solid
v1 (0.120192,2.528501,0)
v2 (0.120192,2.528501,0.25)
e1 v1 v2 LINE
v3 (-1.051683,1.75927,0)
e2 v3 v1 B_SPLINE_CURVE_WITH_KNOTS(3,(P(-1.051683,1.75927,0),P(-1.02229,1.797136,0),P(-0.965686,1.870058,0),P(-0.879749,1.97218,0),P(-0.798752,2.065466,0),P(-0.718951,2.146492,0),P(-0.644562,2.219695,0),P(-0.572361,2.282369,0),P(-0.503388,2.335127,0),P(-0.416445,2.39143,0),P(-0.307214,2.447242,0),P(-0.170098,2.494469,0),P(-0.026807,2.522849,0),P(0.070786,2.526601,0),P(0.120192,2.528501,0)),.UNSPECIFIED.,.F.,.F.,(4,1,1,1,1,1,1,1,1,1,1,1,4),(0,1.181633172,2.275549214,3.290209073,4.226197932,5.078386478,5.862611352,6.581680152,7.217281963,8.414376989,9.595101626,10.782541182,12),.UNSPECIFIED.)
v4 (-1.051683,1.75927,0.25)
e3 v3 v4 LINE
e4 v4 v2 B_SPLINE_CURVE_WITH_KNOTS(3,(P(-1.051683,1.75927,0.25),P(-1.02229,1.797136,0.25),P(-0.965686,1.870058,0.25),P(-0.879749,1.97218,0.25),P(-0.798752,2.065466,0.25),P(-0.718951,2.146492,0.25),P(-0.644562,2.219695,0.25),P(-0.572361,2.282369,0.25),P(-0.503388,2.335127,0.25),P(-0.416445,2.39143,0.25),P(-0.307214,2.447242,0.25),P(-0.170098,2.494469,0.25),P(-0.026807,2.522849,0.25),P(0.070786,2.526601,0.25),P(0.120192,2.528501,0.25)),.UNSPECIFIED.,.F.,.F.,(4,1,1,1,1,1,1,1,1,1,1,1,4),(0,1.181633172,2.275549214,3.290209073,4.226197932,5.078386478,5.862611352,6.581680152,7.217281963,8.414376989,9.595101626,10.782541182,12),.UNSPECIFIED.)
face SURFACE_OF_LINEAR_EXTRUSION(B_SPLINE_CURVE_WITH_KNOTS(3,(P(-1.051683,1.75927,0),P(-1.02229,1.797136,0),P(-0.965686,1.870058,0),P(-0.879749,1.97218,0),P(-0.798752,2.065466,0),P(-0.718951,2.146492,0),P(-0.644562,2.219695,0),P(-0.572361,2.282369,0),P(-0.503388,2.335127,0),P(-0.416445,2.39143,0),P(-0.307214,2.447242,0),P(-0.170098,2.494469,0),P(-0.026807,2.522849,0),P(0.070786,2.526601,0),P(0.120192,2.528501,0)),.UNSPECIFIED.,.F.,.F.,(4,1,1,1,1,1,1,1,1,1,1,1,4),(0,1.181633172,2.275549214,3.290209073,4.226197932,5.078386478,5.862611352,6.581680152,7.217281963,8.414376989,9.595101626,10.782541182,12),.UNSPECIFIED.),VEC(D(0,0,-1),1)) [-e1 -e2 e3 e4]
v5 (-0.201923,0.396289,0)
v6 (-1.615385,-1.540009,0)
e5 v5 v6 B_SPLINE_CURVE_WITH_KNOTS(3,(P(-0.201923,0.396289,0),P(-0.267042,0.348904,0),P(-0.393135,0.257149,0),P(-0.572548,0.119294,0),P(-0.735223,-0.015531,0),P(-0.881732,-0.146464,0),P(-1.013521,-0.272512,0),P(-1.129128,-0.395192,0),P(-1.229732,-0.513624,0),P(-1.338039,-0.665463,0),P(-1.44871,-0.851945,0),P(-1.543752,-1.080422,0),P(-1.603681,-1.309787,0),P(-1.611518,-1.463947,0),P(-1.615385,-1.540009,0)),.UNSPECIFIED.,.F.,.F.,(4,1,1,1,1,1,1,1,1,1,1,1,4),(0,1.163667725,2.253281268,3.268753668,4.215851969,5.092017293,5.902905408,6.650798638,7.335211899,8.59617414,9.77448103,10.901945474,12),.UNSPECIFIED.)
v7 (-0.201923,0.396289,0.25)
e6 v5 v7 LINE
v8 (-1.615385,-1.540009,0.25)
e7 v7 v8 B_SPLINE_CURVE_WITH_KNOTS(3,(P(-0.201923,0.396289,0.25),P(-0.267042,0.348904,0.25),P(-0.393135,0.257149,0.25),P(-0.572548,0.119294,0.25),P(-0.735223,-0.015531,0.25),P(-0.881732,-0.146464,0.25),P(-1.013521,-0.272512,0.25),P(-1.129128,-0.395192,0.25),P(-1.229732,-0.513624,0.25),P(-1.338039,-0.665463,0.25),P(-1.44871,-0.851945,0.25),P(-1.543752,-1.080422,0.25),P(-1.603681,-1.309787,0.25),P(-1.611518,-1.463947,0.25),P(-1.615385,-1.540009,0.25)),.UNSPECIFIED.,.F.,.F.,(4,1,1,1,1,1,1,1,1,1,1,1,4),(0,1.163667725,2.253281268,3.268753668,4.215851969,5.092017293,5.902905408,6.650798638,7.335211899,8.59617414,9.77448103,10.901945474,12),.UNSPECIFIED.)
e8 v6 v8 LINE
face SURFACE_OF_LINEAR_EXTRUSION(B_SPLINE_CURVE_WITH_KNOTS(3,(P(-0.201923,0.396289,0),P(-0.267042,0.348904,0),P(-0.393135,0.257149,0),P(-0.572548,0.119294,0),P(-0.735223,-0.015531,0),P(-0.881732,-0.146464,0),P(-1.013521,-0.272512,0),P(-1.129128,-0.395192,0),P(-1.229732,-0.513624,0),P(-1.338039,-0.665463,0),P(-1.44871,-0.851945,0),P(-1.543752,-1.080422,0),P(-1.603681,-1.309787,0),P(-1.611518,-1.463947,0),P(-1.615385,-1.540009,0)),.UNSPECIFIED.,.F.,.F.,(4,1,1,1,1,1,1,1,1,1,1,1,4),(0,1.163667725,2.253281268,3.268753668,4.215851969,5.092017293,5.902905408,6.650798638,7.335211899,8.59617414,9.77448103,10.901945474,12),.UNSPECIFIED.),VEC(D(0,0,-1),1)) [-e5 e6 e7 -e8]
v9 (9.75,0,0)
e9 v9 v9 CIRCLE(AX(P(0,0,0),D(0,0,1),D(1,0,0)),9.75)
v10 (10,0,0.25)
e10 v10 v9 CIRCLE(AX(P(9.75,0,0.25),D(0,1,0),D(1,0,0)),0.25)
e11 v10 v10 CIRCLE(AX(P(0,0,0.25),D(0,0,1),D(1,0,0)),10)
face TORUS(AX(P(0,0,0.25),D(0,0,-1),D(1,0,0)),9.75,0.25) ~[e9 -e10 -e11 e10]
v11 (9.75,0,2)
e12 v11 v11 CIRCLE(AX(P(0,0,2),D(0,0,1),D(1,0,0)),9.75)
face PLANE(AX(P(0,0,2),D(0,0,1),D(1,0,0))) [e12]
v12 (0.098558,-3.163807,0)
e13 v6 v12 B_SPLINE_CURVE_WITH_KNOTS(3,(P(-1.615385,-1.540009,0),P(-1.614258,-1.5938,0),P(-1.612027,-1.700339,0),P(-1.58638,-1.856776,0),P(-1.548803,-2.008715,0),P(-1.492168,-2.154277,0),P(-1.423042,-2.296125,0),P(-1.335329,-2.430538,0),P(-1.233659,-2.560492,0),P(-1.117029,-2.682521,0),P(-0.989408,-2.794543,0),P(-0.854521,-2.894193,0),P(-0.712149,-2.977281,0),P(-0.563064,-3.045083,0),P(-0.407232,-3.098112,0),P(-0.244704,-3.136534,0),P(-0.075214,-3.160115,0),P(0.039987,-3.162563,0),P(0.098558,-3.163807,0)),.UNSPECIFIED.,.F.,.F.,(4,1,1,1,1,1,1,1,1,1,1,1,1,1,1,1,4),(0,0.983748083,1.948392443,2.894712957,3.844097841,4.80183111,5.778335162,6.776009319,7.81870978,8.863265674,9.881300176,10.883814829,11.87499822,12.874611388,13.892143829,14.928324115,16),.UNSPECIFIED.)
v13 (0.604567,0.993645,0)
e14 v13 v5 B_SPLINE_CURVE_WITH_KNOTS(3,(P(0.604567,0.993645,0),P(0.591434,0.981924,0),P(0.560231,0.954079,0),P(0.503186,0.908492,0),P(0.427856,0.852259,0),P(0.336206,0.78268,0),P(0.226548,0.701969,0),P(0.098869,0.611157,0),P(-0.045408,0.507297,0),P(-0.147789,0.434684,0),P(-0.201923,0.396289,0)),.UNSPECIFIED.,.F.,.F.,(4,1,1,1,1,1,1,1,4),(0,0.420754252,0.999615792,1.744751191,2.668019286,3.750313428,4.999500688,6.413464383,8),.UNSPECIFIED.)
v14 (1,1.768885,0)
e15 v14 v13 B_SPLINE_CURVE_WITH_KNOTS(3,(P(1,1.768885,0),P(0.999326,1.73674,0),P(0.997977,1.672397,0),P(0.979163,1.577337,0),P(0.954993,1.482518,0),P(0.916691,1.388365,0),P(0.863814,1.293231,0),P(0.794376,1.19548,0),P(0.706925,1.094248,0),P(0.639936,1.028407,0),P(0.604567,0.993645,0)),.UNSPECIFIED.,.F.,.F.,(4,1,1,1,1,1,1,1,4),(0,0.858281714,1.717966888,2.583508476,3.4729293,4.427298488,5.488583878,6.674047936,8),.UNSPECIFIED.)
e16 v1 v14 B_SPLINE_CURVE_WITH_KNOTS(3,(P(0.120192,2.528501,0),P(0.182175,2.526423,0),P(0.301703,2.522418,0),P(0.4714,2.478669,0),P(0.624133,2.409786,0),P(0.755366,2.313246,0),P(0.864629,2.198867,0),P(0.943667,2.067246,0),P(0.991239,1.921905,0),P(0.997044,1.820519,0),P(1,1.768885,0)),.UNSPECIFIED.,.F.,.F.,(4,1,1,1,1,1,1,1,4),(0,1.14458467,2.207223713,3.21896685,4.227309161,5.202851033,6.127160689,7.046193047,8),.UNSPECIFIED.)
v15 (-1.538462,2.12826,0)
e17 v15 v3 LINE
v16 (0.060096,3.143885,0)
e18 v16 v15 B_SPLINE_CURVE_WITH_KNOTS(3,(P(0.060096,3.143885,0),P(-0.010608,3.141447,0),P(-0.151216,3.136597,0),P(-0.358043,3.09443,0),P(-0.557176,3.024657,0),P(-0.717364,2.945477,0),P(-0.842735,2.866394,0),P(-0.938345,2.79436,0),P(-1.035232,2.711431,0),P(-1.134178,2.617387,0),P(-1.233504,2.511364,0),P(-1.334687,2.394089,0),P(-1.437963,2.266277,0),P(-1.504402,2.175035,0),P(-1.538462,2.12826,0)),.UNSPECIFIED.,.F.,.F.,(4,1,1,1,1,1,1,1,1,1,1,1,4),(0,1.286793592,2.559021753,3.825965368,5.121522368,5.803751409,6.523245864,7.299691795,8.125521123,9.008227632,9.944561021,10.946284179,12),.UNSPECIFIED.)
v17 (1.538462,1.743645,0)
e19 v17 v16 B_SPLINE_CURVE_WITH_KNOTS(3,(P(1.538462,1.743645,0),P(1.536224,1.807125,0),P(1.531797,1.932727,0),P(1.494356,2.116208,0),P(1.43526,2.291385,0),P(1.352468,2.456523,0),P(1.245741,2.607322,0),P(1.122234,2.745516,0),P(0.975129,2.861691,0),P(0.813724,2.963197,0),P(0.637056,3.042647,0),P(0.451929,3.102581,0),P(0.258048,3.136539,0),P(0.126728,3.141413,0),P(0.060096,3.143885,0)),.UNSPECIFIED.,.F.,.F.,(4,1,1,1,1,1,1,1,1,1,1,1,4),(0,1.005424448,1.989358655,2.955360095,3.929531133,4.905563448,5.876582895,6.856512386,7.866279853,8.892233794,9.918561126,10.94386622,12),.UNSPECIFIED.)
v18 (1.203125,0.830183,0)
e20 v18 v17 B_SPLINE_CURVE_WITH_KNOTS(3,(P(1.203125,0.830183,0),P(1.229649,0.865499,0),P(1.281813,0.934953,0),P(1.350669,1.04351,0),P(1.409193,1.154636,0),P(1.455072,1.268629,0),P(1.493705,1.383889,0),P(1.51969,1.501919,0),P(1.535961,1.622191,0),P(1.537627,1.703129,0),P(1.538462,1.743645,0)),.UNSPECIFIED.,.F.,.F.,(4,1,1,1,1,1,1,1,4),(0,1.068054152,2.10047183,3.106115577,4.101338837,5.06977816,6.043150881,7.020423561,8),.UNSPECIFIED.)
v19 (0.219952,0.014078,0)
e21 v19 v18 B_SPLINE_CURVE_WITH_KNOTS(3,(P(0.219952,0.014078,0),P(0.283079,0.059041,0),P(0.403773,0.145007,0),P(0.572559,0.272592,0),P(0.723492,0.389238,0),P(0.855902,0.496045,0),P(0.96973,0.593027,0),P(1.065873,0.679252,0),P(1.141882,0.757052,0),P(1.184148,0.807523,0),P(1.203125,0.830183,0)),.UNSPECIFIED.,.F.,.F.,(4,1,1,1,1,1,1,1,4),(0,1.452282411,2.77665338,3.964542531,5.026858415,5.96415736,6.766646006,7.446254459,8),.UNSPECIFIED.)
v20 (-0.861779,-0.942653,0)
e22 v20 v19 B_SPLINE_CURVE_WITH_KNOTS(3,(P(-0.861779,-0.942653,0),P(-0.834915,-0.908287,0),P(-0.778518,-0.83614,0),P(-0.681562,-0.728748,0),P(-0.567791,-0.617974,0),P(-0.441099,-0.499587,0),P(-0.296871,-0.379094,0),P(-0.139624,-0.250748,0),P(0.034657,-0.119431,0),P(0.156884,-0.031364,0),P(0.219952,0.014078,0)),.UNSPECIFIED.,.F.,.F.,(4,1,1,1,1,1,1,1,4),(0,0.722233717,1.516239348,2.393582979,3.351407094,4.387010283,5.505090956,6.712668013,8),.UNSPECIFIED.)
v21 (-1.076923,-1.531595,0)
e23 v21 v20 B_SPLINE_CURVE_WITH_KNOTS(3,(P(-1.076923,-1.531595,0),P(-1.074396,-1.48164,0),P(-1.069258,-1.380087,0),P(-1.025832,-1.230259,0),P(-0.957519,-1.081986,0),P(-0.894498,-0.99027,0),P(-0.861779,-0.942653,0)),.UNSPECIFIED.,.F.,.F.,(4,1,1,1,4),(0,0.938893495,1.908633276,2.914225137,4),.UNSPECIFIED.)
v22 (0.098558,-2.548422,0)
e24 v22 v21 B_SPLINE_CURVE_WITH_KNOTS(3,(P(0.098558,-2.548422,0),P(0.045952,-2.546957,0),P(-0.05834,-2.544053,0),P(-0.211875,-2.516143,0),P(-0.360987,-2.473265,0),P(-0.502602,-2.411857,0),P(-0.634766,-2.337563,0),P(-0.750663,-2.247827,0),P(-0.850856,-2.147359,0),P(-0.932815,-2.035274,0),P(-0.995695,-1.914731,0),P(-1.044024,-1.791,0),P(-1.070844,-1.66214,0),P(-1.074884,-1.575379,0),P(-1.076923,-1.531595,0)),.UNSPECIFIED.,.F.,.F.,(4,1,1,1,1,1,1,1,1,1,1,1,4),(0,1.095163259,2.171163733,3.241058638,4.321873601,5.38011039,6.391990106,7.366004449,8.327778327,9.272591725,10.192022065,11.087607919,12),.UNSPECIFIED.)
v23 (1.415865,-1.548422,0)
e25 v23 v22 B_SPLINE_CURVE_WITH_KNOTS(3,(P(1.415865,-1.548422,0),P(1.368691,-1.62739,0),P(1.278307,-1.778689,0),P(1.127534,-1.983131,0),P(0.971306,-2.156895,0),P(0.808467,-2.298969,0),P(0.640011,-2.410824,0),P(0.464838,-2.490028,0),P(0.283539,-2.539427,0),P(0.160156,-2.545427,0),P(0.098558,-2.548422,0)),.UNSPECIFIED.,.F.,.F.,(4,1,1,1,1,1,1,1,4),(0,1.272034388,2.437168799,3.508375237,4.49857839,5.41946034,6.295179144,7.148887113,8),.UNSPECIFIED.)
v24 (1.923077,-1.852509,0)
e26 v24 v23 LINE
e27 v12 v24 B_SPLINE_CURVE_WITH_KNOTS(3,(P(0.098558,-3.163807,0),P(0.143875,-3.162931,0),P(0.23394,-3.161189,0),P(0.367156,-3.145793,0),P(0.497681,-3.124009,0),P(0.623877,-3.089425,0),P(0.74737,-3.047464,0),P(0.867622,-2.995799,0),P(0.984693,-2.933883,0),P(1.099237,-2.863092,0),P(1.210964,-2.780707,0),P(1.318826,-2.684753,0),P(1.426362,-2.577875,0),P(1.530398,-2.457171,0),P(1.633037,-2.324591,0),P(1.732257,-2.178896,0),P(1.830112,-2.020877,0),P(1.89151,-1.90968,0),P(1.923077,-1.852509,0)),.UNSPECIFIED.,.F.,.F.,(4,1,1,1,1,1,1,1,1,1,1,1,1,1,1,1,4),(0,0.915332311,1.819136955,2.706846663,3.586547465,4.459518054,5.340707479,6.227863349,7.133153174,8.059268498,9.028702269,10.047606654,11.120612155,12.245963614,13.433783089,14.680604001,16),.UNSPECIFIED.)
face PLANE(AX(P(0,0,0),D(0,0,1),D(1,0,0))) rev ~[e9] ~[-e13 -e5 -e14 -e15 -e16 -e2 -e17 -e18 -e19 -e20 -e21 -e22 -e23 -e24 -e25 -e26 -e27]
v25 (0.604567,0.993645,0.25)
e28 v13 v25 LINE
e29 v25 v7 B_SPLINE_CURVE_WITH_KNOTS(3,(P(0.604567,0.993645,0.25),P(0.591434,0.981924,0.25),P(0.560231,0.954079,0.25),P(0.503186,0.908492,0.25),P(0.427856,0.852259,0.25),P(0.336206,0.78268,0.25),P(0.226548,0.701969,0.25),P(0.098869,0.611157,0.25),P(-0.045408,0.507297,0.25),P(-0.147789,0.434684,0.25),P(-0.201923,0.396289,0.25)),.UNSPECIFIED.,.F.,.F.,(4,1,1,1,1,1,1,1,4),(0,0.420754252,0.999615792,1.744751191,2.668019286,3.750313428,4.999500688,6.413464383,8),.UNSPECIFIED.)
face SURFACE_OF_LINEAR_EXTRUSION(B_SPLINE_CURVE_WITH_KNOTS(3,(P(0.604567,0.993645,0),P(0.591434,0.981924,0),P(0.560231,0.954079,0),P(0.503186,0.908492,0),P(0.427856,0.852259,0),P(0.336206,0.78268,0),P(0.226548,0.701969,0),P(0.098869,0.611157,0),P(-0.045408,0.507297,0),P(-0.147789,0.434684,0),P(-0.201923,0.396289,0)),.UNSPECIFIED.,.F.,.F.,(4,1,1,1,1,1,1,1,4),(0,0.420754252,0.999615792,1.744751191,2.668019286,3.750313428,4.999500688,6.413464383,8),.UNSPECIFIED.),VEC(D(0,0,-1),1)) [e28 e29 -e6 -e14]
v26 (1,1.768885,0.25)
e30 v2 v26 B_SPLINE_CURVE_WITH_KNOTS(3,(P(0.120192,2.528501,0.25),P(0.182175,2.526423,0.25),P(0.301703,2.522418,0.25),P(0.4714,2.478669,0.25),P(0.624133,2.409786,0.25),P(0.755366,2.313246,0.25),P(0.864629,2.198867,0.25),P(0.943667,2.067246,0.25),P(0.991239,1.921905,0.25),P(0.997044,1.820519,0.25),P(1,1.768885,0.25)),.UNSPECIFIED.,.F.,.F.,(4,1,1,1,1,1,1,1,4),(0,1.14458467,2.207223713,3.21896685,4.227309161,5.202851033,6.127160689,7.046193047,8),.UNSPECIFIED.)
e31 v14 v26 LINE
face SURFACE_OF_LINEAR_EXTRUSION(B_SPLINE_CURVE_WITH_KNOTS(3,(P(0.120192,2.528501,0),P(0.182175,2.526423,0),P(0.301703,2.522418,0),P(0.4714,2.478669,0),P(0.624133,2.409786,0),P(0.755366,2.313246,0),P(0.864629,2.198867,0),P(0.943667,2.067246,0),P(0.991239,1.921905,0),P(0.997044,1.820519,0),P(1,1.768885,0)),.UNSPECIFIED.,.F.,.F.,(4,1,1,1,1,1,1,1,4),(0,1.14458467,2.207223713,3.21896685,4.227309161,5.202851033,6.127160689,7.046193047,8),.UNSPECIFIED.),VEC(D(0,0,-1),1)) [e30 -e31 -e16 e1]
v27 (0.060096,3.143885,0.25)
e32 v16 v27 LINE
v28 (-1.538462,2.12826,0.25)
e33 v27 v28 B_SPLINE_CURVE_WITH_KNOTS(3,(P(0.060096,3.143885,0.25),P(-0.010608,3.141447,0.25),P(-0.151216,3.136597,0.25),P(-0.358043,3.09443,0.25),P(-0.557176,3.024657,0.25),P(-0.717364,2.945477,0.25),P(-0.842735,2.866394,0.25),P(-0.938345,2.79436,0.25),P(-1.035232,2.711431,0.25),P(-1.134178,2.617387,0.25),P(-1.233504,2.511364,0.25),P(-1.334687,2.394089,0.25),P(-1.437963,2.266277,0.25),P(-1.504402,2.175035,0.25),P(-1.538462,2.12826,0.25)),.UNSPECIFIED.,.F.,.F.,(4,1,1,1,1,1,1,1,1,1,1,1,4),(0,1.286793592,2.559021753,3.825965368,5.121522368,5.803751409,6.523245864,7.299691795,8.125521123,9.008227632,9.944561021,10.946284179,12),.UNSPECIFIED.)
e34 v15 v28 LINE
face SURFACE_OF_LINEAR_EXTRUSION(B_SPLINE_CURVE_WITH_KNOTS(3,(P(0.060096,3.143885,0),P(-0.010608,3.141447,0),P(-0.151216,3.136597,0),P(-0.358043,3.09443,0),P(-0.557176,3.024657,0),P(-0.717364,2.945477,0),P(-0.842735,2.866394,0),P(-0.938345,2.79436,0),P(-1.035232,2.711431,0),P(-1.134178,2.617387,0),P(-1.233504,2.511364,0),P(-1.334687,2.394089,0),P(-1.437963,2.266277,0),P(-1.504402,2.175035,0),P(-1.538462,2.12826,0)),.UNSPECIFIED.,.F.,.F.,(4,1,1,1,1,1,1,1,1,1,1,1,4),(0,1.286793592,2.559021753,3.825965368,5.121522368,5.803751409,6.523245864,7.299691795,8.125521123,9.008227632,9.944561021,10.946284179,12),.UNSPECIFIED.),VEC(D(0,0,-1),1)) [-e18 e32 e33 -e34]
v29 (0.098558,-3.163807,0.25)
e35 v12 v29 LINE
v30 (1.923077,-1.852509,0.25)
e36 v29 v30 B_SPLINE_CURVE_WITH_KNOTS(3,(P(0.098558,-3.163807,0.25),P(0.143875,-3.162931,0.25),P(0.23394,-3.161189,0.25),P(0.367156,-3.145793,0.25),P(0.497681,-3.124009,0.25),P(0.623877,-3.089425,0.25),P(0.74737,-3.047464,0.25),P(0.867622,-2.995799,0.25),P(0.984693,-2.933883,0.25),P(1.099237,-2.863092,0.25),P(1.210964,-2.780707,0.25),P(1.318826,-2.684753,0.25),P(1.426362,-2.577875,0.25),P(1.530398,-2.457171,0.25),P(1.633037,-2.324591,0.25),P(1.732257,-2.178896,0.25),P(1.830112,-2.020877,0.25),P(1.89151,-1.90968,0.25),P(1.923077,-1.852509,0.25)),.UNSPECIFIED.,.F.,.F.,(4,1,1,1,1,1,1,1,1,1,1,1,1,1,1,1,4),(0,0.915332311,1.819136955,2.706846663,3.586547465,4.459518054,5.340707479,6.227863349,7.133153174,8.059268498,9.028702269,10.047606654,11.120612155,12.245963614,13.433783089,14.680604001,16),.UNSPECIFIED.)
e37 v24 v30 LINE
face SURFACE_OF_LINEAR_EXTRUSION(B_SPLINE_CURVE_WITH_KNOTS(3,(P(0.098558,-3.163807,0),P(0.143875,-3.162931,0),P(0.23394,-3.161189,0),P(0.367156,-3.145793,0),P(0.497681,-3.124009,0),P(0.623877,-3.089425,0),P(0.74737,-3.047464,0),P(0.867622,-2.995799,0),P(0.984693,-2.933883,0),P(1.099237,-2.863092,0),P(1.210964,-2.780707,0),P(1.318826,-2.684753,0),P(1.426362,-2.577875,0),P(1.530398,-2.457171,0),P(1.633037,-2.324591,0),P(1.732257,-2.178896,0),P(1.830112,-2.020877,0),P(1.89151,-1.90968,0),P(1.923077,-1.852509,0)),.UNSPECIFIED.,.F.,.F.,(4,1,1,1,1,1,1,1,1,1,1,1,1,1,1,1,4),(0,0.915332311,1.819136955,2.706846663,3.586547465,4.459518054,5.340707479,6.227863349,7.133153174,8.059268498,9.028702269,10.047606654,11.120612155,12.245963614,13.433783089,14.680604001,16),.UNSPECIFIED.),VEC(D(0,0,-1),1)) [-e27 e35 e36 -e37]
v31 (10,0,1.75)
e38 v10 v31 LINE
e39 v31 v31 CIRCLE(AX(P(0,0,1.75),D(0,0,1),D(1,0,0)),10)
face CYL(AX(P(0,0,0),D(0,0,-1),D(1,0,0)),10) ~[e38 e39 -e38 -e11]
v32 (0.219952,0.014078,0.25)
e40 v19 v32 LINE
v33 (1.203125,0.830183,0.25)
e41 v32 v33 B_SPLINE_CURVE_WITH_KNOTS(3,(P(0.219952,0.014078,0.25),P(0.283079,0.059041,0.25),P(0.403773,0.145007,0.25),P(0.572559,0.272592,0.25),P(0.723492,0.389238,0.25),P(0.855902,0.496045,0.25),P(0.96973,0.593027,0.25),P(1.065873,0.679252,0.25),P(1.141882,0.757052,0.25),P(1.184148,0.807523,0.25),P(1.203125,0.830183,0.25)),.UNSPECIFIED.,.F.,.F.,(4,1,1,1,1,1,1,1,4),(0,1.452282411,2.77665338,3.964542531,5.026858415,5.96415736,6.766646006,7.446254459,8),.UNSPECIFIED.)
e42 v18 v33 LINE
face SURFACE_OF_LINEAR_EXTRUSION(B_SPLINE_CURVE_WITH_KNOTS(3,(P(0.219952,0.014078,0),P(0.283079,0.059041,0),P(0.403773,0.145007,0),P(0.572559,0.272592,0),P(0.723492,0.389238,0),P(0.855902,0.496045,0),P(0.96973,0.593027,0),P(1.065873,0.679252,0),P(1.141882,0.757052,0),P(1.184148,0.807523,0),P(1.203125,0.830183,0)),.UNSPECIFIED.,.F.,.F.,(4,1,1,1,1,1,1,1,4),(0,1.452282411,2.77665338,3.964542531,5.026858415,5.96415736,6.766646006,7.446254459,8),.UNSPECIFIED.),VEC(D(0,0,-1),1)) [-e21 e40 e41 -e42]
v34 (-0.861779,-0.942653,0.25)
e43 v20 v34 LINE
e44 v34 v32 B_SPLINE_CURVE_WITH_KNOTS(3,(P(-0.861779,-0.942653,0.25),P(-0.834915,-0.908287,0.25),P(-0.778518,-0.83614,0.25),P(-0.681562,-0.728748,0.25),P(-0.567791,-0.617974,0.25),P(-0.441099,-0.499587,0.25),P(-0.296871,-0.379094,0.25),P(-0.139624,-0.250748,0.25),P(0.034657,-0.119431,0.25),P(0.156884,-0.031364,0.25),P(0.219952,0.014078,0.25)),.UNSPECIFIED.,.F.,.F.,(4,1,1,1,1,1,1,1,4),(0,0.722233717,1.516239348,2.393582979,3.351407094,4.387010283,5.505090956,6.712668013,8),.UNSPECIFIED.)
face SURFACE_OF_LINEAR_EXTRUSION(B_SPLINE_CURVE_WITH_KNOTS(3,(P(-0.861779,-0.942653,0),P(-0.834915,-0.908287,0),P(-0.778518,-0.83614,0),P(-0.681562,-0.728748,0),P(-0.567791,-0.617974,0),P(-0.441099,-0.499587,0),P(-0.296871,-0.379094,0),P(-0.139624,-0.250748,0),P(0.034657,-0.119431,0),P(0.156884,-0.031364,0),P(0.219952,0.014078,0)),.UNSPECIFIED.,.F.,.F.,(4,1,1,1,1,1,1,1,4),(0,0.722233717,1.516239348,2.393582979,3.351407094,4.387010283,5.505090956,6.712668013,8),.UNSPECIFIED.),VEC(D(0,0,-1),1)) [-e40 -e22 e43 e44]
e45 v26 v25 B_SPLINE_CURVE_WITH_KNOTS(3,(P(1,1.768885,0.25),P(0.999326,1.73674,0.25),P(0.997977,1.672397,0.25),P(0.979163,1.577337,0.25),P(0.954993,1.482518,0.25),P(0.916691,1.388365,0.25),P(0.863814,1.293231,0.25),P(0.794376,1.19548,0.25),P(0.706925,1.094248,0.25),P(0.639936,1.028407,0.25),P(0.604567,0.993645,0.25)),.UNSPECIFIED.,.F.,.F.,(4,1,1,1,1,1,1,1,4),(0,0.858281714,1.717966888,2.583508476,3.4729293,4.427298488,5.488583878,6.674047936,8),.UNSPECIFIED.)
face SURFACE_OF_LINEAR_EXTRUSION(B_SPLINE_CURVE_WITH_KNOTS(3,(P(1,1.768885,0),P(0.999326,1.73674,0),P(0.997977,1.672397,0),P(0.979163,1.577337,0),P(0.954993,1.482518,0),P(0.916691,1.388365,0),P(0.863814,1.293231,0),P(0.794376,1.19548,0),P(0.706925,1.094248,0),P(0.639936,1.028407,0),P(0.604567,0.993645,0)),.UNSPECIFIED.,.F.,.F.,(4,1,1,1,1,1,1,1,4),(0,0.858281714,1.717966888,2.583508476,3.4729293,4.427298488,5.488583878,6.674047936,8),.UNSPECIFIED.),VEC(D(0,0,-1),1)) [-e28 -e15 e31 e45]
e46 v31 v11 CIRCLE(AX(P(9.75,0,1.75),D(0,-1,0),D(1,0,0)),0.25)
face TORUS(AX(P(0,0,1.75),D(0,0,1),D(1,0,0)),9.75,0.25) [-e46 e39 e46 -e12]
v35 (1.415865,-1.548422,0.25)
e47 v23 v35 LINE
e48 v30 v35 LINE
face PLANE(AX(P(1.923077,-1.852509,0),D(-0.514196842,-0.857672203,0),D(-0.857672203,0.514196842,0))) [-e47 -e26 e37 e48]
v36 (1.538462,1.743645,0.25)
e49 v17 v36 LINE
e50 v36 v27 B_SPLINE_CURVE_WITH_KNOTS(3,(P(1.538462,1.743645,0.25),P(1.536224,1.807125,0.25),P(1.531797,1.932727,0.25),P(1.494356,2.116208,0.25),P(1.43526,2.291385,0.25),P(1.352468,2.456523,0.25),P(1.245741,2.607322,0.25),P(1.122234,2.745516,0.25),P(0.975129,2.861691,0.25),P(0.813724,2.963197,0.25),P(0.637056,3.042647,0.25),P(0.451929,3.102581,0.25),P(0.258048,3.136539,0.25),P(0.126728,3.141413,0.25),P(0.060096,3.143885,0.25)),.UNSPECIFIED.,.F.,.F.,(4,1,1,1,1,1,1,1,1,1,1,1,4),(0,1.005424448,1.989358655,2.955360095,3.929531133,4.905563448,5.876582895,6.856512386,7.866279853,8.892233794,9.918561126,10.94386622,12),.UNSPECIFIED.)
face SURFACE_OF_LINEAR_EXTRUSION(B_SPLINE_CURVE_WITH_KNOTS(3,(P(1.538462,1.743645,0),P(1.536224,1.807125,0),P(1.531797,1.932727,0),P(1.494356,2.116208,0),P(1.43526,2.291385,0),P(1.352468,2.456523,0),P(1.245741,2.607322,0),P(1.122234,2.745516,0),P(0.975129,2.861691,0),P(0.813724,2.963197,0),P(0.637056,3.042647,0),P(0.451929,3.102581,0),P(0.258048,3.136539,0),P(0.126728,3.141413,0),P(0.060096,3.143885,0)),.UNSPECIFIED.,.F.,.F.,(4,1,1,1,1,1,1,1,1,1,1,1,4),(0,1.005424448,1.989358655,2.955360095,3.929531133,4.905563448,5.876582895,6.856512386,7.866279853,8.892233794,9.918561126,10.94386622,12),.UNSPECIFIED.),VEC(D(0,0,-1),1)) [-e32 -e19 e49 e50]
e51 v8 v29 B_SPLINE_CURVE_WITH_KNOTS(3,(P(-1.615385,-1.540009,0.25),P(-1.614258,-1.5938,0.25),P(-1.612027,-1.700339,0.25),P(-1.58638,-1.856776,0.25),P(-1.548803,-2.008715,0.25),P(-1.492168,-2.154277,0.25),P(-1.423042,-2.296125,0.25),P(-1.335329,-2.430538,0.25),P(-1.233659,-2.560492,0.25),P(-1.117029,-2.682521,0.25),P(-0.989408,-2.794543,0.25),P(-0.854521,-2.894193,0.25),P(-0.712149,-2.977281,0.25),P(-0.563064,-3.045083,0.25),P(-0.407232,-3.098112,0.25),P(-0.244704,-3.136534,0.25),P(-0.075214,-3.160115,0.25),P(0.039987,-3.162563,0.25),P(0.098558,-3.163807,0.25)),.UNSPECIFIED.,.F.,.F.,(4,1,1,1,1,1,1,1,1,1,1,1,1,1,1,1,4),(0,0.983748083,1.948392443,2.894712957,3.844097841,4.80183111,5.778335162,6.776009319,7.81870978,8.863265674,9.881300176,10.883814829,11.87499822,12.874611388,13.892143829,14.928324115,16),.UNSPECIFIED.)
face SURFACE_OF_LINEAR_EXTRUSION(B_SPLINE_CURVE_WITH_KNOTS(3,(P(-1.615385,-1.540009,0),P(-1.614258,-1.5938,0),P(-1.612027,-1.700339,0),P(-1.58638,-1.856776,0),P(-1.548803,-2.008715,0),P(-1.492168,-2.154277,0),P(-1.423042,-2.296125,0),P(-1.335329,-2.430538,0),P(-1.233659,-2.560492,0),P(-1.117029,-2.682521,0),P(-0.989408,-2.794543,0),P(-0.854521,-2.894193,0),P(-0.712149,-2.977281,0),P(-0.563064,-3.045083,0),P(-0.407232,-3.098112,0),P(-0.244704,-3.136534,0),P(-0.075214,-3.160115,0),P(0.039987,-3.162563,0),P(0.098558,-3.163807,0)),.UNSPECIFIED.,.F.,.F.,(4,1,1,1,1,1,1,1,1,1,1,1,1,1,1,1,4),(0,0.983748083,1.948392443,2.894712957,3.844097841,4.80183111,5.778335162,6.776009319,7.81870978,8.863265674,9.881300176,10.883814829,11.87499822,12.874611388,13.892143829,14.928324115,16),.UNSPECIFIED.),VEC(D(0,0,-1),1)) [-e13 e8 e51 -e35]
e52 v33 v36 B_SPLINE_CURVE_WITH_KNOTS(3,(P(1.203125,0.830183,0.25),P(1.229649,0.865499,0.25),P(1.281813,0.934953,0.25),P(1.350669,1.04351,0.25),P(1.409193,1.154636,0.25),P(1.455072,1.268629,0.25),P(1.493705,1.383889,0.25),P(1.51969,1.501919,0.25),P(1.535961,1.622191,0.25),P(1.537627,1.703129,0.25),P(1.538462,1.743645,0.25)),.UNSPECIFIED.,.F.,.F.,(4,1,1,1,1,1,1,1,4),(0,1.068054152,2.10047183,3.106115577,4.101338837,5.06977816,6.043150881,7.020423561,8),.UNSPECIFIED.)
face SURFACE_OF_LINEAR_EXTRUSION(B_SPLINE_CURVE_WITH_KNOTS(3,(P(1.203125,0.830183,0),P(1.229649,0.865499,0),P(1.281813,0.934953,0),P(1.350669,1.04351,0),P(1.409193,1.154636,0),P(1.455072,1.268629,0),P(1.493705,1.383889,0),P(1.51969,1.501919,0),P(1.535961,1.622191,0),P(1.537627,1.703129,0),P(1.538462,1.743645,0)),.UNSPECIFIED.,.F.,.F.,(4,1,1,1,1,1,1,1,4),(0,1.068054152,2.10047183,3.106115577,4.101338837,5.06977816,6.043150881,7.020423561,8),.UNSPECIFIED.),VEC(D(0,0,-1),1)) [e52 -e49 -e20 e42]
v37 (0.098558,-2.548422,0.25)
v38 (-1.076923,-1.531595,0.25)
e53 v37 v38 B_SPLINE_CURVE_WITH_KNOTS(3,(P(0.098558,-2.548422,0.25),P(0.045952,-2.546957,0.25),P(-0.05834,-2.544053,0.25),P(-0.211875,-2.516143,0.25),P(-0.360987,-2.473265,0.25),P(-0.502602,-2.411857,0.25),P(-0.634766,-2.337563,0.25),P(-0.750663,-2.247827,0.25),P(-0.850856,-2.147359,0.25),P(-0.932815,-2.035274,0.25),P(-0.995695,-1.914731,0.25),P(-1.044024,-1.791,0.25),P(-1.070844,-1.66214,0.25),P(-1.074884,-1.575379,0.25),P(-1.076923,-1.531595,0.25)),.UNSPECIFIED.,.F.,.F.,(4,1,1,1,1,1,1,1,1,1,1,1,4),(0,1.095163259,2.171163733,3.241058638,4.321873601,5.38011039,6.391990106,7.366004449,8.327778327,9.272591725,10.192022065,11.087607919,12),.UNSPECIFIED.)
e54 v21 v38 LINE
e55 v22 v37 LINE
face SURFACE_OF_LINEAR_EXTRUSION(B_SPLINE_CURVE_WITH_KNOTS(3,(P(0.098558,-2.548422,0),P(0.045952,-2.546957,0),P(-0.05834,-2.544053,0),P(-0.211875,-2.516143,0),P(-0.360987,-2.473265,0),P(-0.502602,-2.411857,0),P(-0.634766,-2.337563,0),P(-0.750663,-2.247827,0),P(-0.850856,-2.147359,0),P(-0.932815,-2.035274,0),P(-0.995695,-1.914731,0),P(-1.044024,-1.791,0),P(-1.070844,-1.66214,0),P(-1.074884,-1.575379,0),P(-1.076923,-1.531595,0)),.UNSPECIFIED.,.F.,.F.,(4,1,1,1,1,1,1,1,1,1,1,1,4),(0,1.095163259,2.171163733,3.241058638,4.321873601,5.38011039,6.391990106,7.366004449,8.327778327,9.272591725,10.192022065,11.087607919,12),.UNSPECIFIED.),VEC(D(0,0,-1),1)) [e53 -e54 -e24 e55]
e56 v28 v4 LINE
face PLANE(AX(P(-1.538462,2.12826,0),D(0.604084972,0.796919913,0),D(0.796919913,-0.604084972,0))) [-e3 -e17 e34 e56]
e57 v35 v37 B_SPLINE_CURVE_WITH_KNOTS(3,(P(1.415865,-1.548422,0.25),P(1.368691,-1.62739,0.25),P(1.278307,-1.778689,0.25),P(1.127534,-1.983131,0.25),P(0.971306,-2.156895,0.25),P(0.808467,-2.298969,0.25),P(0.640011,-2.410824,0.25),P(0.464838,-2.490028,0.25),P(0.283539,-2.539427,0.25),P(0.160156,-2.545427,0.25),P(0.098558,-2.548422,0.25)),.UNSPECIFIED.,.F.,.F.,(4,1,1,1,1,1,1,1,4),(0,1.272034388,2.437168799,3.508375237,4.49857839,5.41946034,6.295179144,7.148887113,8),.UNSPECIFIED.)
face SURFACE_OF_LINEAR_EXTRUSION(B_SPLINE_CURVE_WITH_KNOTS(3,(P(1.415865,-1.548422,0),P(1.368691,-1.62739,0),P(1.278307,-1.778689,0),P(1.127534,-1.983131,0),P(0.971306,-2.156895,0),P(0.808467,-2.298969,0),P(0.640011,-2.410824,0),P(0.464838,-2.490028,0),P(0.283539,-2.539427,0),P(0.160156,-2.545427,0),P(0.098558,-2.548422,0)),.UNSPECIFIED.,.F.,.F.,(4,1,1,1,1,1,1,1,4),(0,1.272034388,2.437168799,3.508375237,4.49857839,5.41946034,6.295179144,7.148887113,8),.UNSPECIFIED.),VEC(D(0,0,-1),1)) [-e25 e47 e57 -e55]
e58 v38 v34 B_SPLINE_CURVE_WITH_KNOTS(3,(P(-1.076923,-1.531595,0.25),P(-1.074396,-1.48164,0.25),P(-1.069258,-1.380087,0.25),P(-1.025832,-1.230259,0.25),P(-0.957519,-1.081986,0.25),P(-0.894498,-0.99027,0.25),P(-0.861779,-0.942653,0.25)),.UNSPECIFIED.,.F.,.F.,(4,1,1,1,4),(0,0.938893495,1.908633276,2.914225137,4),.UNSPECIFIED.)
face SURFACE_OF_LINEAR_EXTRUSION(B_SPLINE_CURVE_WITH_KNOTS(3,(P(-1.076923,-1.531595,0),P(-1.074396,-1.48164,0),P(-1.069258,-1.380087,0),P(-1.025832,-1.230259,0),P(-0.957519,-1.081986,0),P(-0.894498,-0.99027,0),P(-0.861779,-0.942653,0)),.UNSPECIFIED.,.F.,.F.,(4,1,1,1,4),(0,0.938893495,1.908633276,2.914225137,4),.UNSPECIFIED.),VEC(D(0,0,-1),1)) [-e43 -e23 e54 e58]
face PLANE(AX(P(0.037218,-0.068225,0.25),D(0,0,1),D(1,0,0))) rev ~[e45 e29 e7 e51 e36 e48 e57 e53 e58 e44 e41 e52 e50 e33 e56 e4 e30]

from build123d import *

# Parameters (mm, degrees)
ESQUISSE1_R             = 10
BOSS_EXTRU_1_DEPTH      = 2
CONG_1_R                = 0.25
ENL_V_MAT_EXTRU_1_DEPTH = 0.25


with BuildPart() as part:
    # Esquisse1 → Boss.-Extru.1 (new body)
    with BuildSketch(Plane.XY):
        Circle(ESQUISSE1_R)
    extrude(amount=BOSS_EXTRU_1_DEPTH)

    # Congé1
    cong_1_edges = [part.edges().sort_by_distance(p)[0] for p in [
        (-10, 0, 0),
        (-10, 0, 2),
    ]]
    fillet(cong_1_edges, radius=CONG_1_R)

    # Esquisse2 → Enlèv. mat.-Extru.1 (cut)
    with BuildSketch(Plane(origin=(0, 0, 0), x_dir=(-1, 0, 0), z_dir=(0, 0, -1))):
        with BuildLine():
            Line((-1.923076923, -1.852508928), (-1.415865385, -1.54842239))
            add(Edge.make_bspline(
                [(-1.415865385, -1.54842239), (-1.368691264, -1.627389907), (-1.278307468, -1.778688622), (-1.12753371, -1.983130977), (-0.971305862, -2.156894674), (-0.808467004, -2.298968859), (-0.640011093, -2.410824093), (-0.46483843, -2.490027919), (-0.283539326, -2.539426734), (-0.160155632, -2.545426882), (-0.098557692, -2.54842239)],
                knots=[0, 0, 0, 0, 1.272034388, 2.437168799, 3.508375237, 4.49857839, 5.41946034, 6.295179144, 7.148887113, 8, 8, 8, 8], degree=3))
            add(Edge.make_bspline(
                [(-0.098557692, -2.54842239), (-0.045951646, -2.546957237), (0.058339965, -2.544052568), (0.211875239, -2.516142621), (0.3609869, -2.473264686), (0.502601707, -2.411857375), (0.634765618, -2.337562828), (0.75066281, -2.247826524), (0.850856147, -2.147358742), (0.932814629, -2.035274192), (0.99569469, -1.914730508), (1.04402395, -1.791000306), (1.070844076, -1.662139903), (1.074884225, -1.57537911), (1.076923077, -1.531595467)],
                knots=[0, 0, 0, 0, 1.095163259, 2.171163733, 3.241058638, 4.321873601, 5.38011039, 6.391990106, 7.366004449, 8.327778327, 9.272591725, 10.192022065, 11.087607919, 12, 12, 12, 12], degree=3))
            add(Edge.make_bspline(
                [(1.076923077, -1.531595467), (1.074395687, -1.481639724), (1.069257873, -1.380087), (1.025832479, -1.230259023), (0.957519484, -1.081986046), (0.894497809, -0.990269591), (0.861778846, -0.942653159)],
                knots=[0, 0, 0, 0, 0.938893495, 1.908633276, 2.914225137, 4, 4, 4, 4], degree=3))
            add(Edge.make_bspline(
                [(0.861778846, -0.942653159), (0.834914936, -0.908287176), (0.778517517, -0.836140092), (0.681561781, -0.72874826), (0.5677913, -0.617973828), (0.441099491, -0.499586873), (0.296871339, -0.379093507), (0.139624172, -0.250747888), (-0.03465673, -0.119430899), (-0.156884438, -0.031363643), (-0.219951923, 0.01407761)],
                knots=[0, 0, 0, 0, 0.722233717, 1.516239348, 2.393582979, 3.351407094, 4.387010283, 5.505090956, 6.712668013, 8, 8, 8, 8], degree=3))
            add(Edge.make_bspline(
                [(-0.219951923, 0.01407761), (-0.283078774, 0.059040903), (-0.403772505, 0.145007296), (-0.572558646, 0.272591783), (-0.723492011, 0.389238416), (-0.855901754, 0.496045294), (-0.969729634, 0.593026902), (-1.065872625, 0.679251941), (-1.14188158, 0.757052331), (-1.184148289, 0.807523202), (-1.203125, 0.83018338)],
                knots=[0, 0, 0, 0, 1.452282411, 2.77665338, 3.964542531, 5.026858415, 5.96415736, 6.766646006, 7.446254459, 8, 8, 8, 8], degree=3))
            add(Edge.make_bspline(
                [(-1.203125, 0.83018338), (-1.229649363, 0.865499443), (-1.281813083, 0.934953221), (-1.350669093, 1.04351012), (-1.409193372, 1.154635718), (-1.455071655, 1.268628628), (-1.493705173, 1.383888506), (-1.519690198, 1.501919213), (-1.535961164, 1.622191131), (-1.537627426, 1.70312856), (-1.538461538, 1.743644918)],
                knots=[0, 0, 0, 0, 1.068054152, 2.10047183, 3.106115577, 4.101338837, 5.06977816, 6.043150881, 7.020423561, 8, 8, 8, 8], degree=3))
            add(Edge.make_bspline(
                [(-1.538461538, 1.743644918), (-1.536224037, 1.807124532), (-1.53179686, 1.932726927), (-1.494355973, 2.11620835), (-1.435259584, 2.291385065), (-1.352468348, 2.45652278), (-1.245741457, 2.607321605), (-1.122234073, 2.745516154), (-0.975128668, 2.861690866), (-0.813724171, 2.963197252), (-0.637056104, 3.04264741), (-0.451928841, 3.102580518), (-0.258048146, 3.136539246), (-0.126728487, 3.141412557), (-0.060096154, 3.143885303)],
                knots=[0, 0, 0, 0, 1.005424448, 1.989358655, 2.955360095, 3.929531133, 4.905563448, 5.876582895, 6.856512386, 7.866279853, 8.892233794, 9.918561126, 10.94386622, 12, 12, 12, 12], degree=3))
            add(Edge.make_bspline(
                [(-0.060096154, 3.143885303), (0.010608018, 3.141446643), (0.15121605, 3.136596927), (0.358043276, 3.09442973), (0.557175933, 3.02465715), (0.717364387, 2.945476593), (0.842734835, 2.866394166), (0.938345234, 2.794360182), (1.035232293, 2.711431424), (1.134177529, 2.617387002), (1.233504374, 2.511364001), (1.334687435, 2.394088534), (1.437963325, 2.266277295), (1.504401942, 2.175035294), (1.538461538, 2.128260303)],
                knots=[0, 0, 0, 0, 1.286793592, 2.559021753, 3.825965368, 5.121522368, 5.803751409, 6.523245864, 7.299691795, 8.125521123, 9.008227632, 9.944561021, 10.946284179, 12, 12, 12, 12], degree=3))
            Line((1.538461538, 2.128260303), (1.051682692, 1.759269918))
            add(Edge.make_bspline(
                [(1.051682692, 1.759269918), (1.022289665, 1.797136244), (0.965685567, 1.870057936), (0.879749304, 1.972180191), (0.798751622, 2.065465585), (0.718950937, 2.146491518), (0.644561854, 2.219695175), (0.57236121, 2.282369044), (0.503388037, 2.335127208), (0.416444761, 2.391430454), (0.307214387, 2.447241602), (0.170098039, 2.494468593), (0.026807282, 2.5228487), (-0.070786372, 2.526601078), (-0.120192308, 2.528500687)],
                knots=[0, 0, 0, 0, 1.181633172, 2.275549214, 3.290209073, 4.226197932, 5.078386478, 5.862611352, 6.581680152, 7.217281963, 8.414376989, 9.595101626, 10.782541182, 12, 12, 12, 12], degree=3))
            add(Edge.make_bspline(
                [(-0.120192308, 2.528500687), (-0.182174918, 2.526423487), (-0.301702542, 2.522417803), (-0.471400089, 2.478669257), (-0.624132532, 2.409786068), (-0.755365501, 2.313246105), (-0.86462889, 2.198867261), (-0.943666819, 2.067246366), (-0.99123853, 1.921905105), (-0.997043581, 1.820519408), (-1, 1.768885303)],
                knots=[0, 0, 0, 0, 1.14458467, 2.207223713, 3.21896685, 4.227309161, 5.202851033, 6.127160689, 7.046193047, 8, 8, 8, 8], degree=3))
            add(Edge.make_bspline(
                [(-1, 1.768885303), (-0.999326069, 1.736739911), (-0.997977104, 1.672396563), (-0.979163165, 1.577336983), (-0.954992887, 1.482517544), (-0.916691232, 1.388364545), (-0.863813569, 1.293231358), (-0.794376125, 1.195479808), (-0.706924732, 1.094248307), (-0.639935568, 1.028407095), (-0.604567308, 0.993644918)],
                knots=[0, 0, 0, 0, 0.858281714, 1.717966888, 2.583508476, 3.4729293, 4.427298488, 5.488583878, 6.674047936, 8, 8, 8, 8], degree=3))
            add(Edge.make_bspline(
                [(-0.604567308, 0.993644918), (-0.591433526, 0.981924302), (-0.560230668, 0.954078802), (-0.503186224, 0.908492036), (-0.427855713, 0.852258712), (-0.336206225, 0.782680455), (-0.226547891, 0.701969377), (-0.098868652, 0.61115747), (0.045408262, 0.507296683), (0.147788689, 0.434683757), (0.201923077, 0.396289149)],
                knots=[0, 0, 0, 0, 0.420754252, 0.999615792, 1.744751191, 2.668019286, 3.750313428, 4.999500688, 6.413464383, 8, 8, 8, 8], degree=3))
            add(Edge.make_bspline(
                [(0.201923077, 0.396289149), (0.267041785, 0.348903961), (0.393135139, 0.257149112), (0.572548133, 0.119293661), (0.735223233, -0.015531085), (0.881731582, -0.146464126), (1.013520568, -0.272512285), (1.129128089, -0.395192023), (1.229732112, -0.513624434), (1.338039344, -0.665463135), (1.448709892, -0.851944993), (1.543752476, -1.080421974), (1.603681072, -1.309787095), (1.611517955, -1.463947386), (1.615384615, -1.540008928)],
                knots=[0, 0, 0, 0, 1.163667725, 2.253281268, 3.268753668, 4.215851969, 5.092017293, 5.902905408, 6.650798638, 7.335211899, 8.59617414, 9.77448103, 10.901945474, 12, 12, 12, 12], degree=3))
            add(Edge.make_bspline(
                [(1.615384615, -1.540008928), (1.614258093, -1.593800411), (1.612026924, -1.700338783), (1.586379643, -1.856776058), (1.548803075, -2.008714691), (1.492167816, -2.154276598), (1.423042402, -2.296124763), (1.335328834, -2.430538307), (1.233658518, -2.560492133), (1.117029206, -2.682520975), (0.98940766, -2.794543025), (0.854521326, -2.894192845), (0.712149429, -2.977281399), (0.563064315, -3.045082843), (0.407231738, -3.09811173), (0.244704109, -3.136533791), (0.075213518, -3.16011501), (-0.039987308, -3.162562601), (-0.098557692, -3.163807005)],
                knots=[0, 0, 0, 0, 0.983748083, 1.948392443, 2.894712957, 3.844097841, 4.80183111, 5.778335162, 6.776009319, 7.81870978, 8.863265674, 9.881300176, 10.883814829, 11.87499822, 12.874611388, 13.892143829, 14.928324115, 16, 16, 16, 16], degree=3))
            add(Edge.make_bspline(
                [(-0.098557692, -3.163807005), (-0.143875423, -3.162930694), (-0.233940155, -3.161189107), (-0.367156409, -3.145792627), (-0.497681419, -3.12400902), (-0.623877331, -3.089424901), (-0.747370037, -3.047464368), (-0.867622439, -2.995798655), (-0.984692817, -2.933883453), (-1.099237245, -2.863091982), (-1.210964401, -2.780707277), (-1.318826346, -2.684752712), (-1.426362093, -2.577874703), (-1.53039763, -2.45717088), (-1.633037305, -2.32459131), (-1.732257436, -2.178895567), (-1.830111809, -2.020877246), (-1.891509754, -1.909679956), (-1.923076923, -1.852508928)],
                knots=[0, 0, 0, 0, 0.915332311, 1.819136955, 2.706846663, 3.586547465, 4.459518054, 5.340707479, 6.227863349, 7.133153174, 8.059268498, 9.028702269, 10.047606654, 11.120612155, 12.245963614, 13.433783089, 14.680604001, 16, 16, 16, 16], degree=3))
        make_face()
    extrude(amount=-ENL_V_MAT_EXTRU_1_DEPTH, mode=Mode.SUBTRACT)


solid = part.part
